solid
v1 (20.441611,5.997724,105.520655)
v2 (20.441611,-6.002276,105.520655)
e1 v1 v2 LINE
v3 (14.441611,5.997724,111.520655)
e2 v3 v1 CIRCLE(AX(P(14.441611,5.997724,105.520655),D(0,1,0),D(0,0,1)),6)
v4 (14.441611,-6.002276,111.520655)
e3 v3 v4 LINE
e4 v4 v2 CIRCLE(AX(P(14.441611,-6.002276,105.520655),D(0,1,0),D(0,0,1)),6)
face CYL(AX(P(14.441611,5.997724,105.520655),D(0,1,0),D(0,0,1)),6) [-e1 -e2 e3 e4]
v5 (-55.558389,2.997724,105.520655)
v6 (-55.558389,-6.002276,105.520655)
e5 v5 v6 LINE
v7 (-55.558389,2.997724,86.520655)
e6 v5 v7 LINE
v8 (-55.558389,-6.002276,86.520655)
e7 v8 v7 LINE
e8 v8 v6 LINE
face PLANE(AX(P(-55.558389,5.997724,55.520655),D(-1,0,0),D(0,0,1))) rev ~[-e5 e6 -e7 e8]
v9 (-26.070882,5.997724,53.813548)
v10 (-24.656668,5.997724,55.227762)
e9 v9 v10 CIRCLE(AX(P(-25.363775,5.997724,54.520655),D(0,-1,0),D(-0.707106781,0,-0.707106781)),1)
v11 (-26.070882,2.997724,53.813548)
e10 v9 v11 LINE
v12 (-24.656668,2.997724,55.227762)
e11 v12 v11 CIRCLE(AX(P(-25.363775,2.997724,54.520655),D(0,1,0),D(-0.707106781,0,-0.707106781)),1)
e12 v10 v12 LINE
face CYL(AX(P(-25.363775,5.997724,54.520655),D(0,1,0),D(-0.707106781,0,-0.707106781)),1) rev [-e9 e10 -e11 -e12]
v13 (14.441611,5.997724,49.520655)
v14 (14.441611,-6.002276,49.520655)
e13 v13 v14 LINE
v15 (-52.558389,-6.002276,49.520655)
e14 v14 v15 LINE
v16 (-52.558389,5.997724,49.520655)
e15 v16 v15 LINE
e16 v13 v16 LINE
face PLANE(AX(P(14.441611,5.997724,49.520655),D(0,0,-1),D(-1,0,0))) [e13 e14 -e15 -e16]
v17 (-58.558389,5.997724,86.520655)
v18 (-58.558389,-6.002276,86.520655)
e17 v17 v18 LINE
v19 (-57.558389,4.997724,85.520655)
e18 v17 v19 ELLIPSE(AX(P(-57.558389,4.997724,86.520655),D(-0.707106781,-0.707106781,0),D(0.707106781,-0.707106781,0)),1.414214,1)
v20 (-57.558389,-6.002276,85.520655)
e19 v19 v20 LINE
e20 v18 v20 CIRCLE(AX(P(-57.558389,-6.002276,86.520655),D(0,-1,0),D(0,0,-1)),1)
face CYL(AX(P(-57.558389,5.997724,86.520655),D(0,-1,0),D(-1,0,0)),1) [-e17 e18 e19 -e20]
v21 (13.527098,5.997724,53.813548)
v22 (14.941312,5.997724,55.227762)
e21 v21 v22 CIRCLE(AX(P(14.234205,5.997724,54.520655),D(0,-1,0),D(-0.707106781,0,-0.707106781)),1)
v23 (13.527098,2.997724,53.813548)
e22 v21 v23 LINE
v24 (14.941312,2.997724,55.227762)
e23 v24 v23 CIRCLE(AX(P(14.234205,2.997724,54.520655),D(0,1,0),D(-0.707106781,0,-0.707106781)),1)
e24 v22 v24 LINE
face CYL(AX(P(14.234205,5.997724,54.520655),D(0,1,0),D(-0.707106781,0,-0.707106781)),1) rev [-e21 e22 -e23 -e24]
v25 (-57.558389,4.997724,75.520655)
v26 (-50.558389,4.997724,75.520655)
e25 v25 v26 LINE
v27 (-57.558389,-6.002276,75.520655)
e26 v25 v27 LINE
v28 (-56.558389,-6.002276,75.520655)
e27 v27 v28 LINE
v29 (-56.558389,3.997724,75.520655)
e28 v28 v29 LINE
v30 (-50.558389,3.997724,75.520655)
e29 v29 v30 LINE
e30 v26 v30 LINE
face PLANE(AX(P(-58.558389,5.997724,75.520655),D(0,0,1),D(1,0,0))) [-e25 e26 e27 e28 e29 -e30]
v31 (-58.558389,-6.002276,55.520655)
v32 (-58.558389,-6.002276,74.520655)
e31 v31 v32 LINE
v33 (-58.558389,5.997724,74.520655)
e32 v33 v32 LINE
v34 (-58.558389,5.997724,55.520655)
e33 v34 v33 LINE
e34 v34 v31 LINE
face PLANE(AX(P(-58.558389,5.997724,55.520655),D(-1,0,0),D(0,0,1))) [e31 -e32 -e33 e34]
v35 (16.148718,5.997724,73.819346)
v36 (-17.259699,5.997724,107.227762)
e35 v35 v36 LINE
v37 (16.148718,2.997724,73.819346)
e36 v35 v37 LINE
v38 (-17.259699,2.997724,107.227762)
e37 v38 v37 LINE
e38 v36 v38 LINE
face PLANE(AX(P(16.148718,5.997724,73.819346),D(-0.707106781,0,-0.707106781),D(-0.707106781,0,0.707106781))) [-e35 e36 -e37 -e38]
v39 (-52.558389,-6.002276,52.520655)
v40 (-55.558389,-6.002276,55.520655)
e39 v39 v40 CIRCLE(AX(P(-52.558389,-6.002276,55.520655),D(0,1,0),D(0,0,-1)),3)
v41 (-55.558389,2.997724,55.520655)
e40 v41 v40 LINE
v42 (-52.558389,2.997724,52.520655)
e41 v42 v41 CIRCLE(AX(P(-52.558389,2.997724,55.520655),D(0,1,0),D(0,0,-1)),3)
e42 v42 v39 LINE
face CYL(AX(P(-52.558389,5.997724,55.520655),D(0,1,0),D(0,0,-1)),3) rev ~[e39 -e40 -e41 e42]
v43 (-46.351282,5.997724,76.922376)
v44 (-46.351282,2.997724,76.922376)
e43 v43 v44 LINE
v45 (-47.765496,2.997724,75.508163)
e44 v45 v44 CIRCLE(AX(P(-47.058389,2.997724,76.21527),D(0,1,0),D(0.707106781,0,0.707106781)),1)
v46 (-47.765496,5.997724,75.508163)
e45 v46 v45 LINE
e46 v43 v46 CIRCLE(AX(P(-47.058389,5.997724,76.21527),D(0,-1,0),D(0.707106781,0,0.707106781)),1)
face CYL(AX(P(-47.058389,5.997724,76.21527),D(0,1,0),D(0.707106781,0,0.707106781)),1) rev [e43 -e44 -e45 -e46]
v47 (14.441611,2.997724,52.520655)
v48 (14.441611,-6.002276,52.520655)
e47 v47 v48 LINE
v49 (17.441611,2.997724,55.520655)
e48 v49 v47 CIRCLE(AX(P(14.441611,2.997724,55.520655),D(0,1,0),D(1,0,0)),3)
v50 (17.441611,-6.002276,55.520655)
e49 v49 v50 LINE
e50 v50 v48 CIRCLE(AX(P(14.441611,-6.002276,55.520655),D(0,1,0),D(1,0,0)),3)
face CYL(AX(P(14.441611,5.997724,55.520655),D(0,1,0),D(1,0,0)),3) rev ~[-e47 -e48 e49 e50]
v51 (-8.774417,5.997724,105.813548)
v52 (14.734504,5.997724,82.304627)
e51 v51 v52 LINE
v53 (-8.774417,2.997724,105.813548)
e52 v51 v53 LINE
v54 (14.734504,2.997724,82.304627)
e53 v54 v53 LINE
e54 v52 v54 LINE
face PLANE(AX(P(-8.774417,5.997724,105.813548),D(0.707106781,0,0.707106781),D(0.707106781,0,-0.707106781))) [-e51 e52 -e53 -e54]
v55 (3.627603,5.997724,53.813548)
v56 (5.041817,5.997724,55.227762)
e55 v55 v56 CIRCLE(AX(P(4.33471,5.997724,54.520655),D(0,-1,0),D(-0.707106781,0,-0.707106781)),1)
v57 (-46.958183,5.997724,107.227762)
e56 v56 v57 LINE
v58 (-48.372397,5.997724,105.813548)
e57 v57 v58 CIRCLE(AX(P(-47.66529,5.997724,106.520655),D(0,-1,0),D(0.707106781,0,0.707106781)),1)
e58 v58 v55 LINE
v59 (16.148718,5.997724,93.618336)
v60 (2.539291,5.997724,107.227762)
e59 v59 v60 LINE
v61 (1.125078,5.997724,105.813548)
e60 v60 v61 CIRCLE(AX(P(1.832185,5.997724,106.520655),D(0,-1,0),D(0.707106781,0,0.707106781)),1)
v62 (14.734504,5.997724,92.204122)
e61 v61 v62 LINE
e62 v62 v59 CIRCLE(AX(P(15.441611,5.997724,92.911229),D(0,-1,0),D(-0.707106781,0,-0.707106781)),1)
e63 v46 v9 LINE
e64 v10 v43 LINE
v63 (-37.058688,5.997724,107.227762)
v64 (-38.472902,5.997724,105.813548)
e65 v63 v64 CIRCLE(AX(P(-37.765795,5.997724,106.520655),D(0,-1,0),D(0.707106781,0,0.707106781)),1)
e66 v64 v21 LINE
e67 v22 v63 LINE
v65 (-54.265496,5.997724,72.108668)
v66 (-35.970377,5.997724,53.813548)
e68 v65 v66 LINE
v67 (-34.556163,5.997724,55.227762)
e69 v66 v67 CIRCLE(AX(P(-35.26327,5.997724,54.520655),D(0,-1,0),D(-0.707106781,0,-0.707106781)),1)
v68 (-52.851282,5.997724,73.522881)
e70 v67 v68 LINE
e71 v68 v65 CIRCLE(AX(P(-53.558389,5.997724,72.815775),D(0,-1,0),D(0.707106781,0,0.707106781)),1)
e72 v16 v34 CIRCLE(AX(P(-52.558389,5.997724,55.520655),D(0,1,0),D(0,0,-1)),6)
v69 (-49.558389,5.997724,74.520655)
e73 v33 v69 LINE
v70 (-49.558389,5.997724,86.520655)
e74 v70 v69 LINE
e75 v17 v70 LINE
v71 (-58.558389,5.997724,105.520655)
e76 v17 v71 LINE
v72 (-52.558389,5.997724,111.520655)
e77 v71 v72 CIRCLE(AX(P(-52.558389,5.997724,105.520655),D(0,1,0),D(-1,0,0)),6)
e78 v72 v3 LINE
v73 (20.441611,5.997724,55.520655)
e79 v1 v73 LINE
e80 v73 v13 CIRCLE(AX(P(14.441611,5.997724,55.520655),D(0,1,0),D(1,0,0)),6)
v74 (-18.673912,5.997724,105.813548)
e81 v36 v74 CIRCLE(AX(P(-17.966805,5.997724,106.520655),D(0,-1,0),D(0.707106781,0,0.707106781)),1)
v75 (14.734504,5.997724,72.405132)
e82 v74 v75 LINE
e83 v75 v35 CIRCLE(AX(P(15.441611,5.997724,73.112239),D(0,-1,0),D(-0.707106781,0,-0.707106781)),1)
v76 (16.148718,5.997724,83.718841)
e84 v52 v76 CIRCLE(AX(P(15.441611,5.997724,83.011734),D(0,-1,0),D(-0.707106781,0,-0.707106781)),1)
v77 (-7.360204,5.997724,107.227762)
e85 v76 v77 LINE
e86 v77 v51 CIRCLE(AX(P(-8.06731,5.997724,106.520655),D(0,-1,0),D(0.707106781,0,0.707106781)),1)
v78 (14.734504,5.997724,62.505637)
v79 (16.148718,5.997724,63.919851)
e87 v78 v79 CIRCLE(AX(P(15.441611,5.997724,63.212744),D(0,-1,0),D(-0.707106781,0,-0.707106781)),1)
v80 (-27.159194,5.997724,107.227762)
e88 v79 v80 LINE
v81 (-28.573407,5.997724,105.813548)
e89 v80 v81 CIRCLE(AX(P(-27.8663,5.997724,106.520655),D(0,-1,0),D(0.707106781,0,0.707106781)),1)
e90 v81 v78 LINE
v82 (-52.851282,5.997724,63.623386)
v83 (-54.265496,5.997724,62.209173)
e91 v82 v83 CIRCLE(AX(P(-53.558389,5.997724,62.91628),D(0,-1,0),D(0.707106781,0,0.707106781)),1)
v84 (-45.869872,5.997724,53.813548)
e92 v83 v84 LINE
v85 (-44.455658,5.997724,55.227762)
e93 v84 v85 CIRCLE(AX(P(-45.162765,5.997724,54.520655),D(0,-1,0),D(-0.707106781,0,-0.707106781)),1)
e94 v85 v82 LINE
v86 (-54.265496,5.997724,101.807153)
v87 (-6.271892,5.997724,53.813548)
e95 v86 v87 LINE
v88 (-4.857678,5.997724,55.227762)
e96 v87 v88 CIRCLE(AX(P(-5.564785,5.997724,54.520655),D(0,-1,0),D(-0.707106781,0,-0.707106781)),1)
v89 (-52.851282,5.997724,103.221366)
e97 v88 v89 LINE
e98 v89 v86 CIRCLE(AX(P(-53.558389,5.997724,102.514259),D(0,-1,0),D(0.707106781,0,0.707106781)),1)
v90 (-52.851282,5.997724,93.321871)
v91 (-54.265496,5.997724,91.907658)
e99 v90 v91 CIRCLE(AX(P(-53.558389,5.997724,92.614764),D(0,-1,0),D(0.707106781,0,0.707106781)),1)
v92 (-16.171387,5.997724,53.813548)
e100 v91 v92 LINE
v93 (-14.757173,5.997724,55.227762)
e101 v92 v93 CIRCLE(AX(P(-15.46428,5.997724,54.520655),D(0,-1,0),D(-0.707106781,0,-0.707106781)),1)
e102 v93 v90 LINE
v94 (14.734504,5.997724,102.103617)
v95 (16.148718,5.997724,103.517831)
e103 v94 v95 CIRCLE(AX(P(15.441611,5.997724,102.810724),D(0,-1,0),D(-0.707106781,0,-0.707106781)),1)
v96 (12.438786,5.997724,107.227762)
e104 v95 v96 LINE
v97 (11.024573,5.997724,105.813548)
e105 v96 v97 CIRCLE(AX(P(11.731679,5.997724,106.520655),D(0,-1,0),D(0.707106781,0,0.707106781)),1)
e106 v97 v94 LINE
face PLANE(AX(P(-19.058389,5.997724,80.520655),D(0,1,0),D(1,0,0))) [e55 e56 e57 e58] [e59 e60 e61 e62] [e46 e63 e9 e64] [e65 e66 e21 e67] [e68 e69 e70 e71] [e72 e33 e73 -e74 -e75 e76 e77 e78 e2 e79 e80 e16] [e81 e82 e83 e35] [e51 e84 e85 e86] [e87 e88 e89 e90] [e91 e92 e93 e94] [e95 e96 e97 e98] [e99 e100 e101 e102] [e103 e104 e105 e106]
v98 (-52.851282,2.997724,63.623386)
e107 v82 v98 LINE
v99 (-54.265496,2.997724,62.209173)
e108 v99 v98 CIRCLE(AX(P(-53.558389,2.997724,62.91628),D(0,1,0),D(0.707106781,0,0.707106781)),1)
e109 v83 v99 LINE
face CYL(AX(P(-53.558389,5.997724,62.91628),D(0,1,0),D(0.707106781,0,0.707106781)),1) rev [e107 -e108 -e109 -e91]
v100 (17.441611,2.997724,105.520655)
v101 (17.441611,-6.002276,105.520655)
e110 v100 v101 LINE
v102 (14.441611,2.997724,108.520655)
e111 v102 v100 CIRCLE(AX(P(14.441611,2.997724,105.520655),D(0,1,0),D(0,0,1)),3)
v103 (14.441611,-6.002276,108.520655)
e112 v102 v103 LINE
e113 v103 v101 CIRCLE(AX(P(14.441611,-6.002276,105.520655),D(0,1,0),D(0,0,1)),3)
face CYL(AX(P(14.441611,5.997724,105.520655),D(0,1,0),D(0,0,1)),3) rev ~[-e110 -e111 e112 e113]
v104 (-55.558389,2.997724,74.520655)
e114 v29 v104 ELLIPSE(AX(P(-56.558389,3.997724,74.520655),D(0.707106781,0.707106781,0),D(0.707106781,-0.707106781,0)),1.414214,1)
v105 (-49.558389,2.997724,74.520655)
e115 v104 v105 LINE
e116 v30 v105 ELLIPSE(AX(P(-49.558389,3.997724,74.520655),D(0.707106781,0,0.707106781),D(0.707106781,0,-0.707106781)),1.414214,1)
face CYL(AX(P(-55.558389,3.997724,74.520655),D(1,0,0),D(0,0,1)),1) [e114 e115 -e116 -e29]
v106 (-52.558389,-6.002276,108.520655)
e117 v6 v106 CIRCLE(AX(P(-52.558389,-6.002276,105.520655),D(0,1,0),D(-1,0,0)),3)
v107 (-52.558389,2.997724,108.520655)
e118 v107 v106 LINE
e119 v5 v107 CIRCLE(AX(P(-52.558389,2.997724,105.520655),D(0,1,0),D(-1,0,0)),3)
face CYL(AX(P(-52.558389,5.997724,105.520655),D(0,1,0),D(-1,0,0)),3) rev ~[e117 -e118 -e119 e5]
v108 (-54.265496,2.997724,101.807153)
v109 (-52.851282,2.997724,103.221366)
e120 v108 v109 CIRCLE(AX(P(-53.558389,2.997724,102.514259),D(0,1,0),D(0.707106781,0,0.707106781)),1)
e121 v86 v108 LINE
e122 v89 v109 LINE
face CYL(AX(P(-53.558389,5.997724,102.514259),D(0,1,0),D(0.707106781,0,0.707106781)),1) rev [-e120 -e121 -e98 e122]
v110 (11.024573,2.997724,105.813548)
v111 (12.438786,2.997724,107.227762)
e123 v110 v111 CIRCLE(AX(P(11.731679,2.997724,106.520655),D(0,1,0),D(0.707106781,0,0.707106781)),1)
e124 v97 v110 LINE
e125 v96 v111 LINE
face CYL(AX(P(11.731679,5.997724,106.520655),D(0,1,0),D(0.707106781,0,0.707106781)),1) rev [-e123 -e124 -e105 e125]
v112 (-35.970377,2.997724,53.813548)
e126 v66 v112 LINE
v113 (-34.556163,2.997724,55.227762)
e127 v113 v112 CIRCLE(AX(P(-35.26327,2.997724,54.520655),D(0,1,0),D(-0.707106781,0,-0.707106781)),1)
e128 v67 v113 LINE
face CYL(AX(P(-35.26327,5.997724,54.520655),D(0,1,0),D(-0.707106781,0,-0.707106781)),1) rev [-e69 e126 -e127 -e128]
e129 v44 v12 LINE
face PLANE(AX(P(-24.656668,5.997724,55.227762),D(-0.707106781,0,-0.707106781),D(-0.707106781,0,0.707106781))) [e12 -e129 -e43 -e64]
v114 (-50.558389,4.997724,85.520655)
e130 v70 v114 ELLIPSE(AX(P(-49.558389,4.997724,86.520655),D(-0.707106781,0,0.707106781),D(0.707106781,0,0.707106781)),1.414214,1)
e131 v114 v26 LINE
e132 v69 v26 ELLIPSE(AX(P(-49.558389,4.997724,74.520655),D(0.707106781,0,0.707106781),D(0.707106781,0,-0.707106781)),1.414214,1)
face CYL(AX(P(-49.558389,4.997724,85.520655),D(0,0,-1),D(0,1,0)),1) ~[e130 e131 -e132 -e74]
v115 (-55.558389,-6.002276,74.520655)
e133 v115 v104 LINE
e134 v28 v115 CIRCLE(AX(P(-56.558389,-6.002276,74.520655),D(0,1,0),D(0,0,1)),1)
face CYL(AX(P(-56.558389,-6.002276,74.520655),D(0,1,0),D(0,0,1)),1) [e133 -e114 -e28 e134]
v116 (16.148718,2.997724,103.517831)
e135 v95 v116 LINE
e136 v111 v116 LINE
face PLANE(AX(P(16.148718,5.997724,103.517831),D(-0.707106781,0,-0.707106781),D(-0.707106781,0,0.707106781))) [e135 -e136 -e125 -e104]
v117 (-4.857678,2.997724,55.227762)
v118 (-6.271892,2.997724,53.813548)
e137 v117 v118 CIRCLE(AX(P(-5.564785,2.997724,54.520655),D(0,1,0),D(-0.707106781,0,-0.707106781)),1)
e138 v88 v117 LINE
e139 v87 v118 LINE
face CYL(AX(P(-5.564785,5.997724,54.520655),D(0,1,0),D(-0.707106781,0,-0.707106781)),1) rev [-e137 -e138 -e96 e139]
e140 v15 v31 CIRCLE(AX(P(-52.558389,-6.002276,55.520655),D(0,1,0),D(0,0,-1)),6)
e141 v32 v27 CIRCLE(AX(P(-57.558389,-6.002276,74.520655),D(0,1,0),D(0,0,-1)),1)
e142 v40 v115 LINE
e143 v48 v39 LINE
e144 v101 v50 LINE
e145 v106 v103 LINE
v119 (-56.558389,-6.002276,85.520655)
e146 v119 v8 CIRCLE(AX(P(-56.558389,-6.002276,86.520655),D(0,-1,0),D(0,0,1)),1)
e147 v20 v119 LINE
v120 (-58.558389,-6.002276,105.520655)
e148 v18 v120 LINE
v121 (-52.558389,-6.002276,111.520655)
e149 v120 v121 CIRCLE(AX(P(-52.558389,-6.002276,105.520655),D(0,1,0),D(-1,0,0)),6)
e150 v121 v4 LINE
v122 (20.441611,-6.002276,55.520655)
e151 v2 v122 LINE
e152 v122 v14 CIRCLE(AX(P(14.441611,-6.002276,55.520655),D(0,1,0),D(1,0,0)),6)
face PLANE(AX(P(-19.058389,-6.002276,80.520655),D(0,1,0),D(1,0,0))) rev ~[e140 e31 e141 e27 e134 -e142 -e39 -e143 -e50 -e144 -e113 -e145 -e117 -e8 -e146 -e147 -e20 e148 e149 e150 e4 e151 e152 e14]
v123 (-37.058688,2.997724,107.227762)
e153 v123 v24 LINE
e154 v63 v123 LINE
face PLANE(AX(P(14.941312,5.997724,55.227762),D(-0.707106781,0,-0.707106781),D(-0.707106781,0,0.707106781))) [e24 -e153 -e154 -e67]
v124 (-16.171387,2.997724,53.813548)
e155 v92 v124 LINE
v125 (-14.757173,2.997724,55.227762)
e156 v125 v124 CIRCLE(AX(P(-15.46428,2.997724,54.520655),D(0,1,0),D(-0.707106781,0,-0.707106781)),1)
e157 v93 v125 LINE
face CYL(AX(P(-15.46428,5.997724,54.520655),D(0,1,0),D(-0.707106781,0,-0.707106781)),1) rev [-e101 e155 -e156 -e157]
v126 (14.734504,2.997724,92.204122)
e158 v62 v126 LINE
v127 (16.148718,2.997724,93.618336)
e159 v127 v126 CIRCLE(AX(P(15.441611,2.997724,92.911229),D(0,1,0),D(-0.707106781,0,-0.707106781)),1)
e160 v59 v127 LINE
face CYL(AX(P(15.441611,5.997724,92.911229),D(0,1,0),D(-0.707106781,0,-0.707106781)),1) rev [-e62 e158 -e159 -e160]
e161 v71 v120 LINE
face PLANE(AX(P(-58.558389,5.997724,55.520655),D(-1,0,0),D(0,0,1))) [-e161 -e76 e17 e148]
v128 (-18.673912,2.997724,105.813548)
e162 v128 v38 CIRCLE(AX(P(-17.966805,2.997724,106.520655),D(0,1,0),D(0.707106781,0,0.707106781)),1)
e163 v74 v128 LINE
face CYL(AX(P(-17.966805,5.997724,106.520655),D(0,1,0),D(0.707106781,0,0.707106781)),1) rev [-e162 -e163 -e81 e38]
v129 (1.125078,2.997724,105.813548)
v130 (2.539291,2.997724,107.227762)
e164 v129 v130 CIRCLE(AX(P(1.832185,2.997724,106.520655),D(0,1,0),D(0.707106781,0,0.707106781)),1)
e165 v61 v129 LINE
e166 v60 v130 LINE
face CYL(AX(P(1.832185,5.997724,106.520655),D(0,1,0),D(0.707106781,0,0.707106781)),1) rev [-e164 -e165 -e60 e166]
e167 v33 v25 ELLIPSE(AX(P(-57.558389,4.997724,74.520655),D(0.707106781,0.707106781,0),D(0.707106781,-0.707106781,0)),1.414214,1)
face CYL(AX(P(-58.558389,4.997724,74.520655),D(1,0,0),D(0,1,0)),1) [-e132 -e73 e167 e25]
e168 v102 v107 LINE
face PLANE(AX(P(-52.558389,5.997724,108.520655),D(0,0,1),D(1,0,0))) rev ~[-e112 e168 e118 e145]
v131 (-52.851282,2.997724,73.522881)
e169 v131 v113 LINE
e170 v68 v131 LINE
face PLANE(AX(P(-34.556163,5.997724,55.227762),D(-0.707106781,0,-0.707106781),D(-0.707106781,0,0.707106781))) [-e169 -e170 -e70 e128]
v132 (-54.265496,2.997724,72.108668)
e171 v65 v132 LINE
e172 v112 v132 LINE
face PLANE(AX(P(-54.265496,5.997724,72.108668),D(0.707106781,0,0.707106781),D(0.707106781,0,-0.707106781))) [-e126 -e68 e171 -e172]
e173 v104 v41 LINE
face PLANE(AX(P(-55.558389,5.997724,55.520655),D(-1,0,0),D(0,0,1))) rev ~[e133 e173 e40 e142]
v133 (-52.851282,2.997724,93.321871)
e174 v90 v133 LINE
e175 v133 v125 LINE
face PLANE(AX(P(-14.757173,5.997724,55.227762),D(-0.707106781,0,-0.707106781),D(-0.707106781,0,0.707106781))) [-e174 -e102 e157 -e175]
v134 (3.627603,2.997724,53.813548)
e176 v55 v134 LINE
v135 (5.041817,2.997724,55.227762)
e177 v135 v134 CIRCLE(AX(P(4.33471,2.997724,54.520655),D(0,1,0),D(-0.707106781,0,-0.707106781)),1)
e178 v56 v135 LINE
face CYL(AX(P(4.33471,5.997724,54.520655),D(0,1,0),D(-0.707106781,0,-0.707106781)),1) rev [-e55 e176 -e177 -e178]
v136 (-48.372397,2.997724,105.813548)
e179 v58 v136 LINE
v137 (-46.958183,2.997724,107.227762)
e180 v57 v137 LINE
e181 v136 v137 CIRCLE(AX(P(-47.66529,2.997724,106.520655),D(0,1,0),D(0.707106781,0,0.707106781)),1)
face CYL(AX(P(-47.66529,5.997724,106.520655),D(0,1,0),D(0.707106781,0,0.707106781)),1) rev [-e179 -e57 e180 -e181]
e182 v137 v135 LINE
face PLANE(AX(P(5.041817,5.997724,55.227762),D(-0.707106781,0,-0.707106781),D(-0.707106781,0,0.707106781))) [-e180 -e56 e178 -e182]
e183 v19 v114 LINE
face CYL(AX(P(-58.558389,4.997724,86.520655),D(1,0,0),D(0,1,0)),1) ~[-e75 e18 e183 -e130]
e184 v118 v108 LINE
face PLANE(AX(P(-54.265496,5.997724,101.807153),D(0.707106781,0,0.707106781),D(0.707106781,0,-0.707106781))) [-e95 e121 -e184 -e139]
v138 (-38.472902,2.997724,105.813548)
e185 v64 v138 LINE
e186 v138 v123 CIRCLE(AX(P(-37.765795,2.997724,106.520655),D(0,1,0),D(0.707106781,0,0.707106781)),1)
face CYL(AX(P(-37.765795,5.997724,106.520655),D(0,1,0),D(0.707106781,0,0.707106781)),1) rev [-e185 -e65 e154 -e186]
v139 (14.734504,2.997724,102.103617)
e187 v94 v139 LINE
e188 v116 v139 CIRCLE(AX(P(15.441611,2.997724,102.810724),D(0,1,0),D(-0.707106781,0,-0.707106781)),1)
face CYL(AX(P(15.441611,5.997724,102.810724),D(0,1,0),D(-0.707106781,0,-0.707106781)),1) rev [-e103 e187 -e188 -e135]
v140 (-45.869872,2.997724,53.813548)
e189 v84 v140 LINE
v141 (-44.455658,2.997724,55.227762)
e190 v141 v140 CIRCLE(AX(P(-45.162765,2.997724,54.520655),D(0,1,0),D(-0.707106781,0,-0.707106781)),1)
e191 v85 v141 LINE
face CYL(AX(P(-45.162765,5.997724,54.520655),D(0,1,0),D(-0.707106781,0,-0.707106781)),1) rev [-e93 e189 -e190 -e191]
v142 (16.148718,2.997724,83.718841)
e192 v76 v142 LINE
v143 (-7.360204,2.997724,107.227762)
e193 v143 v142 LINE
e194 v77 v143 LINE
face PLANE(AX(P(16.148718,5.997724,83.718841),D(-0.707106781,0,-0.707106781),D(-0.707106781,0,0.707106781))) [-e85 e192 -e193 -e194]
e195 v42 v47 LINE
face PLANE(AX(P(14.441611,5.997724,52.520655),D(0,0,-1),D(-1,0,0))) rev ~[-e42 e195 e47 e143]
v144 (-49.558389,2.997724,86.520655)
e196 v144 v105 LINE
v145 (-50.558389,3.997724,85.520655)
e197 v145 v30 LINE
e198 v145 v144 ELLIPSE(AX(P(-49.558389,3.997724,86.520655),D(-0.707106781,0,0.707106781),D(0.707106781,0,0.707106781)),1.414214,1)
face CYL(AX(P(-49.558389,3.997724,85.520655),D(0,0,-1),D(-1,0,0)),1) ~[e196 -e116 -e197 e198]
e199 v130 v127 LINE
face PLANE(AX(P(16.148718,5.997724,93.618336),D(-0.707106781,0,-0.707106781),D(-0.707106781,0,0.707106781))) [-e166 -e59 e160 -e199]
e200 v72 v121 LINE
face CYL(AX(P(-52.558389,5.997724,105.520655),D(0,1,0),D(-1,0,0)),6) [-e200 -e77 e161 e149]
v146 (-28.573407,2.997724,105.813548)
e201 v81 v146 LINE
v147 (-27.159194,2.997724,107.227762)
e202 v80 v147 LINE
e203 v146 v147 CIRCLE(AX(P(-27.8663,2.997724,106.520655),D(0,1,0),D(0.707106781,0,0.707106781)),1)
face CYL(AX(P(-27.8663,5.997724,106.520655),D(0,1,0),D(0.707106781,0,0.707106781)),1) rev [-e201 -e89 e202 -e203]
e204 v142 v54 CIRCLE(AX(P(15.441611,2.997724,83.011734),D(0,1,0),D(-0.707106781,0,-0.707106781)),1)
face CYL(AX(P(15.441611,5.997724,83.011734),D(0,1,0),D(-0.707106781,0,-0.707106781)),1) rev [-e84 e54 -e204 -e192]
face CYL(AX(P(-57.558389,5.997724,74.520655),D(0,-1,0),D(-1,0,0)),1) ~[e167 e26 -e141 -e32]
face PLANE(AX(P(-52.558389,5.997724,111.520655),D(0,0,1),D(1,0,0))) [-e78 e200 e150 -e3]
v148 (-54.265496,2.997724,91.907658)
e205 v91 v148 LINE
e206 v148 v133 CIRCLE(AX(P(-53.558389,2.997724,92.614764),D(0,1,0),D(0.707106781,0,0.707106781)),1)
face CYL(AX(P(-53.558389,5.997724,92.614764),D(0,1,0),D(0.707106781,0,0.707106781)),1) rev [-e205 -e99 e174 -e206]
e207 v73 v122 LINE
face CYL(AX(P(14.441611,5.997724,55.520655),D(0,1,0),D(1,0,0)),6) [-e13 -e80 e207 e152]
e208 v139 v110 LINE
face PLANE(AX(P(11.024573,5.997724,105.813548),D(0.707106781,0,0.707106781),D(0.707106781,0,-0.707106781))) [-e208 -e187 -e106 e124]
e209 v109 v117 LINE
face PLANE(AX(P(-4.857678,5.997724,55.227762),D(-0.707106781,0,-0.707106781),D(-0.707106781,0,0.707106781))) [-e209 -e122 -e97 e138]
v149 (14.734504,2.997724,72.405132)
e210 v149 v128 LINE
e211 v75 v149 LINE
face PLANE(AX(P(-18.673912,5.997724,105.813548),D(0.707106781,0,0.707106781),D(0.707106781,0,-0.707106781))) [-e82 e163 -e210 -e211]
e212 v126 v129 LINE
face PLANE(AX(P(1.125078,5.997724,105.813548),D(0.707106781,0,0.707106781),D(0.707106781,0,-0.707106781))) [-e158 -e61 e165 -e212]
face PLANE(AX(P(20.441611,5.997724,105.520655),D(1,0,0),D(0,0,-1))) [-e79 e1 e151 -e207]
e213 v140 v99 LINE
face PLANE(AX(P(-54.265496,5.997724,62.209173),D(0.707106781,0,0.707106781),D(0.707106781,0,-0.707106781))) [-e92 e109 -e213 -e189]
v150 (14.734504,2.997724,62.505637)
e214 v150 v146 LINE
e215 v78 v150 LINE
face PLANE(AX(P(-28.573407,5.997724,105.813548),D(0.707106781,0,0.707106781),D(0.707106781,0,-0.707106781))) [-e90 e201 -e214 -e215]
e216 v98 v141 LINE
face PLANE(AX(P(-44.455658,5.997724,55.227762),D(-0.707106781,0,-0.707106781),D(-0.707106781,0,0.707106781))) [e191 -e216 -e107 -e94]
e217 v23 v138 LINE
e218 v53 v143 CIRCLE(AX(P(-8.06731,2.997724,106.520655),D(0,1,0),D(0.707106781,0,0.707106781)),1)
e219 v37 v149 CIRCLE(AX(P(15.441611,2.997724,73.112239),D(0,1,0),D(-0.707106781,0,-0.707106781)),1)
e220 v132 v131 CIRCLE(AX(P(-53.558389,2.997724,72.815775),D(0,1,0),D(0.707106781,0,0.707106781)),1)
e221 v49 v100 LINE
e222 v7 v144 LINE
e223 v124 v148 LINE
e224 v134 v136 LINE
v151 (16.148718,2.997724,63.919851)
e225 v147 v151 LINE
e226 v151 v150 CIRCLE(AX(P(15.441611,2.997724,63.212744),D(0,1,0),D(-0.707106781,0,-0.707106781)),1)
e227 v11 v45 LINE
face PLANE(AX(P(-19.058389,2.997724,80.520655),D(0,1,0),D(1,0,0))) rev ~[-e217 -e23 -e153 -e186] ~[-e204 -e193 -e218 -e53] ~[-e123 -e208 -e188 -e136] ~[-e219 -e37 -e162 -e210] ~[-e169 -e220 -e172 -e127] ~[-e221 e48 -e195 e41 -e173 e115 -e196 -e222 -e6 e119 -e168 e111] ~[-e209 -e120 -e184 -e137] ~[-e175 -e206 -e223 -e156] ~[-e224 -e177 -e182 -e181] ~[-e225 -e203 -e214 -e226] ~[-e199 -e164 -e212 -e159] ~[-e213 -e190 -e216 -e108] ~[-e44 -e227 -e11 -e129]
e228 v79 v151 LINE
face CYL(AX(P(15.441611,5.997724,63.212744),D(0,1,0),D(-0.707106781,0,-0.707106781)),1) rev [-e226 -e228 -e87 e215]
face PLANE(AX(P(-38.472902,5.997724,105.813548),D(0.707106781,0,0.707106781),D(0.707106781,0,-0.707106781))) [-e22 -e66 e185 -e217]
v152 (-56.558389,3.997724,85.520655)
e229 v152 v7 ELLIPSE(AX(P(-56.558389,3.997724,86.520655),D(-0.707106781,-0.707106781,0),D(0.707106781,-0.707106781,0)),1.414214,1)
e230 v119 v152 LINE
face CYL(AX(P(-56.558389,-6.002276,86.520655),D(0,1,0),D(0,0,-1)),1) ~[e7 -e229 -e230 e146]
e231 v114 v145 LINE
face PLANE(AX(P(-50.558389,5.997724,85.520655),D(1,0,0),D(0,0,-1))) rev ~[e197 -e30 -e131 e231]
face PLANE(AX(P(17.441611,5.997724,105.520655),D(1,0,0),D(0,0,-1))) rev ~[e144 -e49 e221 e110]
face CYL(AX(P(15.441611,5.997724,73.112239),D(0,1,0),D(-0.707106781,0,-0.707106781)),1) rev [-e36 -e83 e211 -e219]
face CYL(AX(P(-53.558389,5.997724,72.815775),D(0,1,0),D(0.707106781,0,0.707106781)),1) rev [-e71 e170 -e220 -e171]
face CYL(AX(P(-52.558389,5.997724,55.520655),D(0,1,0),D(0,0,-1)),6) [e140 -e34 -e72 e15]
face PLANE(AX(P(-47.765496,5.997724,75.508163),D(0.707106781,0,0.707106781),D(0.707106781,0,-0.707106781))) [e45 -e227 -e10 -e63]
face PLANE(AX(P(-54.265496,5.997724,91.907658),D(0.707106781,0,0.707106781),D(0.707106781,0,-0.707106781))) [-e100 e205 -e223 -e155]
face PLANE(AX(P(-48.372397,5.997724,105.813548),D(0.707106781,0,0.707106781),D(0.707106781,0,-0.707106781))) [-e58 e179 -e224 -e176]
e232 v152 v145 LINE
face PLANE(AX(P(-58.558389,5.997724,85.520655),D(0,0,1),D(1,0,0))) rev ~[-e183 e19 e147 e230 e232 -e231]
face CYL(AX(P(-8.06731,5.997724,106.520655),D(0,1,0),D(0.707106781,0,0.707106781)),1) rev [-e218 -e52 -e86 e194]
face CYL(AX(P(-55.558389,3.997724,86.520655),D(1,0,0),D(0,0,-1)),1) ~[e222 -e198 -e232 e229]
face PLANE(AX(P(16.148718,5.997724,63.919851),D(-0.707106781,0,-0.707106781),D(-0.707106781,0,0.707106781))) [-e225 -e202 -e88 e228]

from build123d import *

# Parameters (mm, degrees)
RESSALTO_EXTRUS_O1_DEPTH = 12
CASCA1_T                 = -3
ESBO_O3_W                = 8
ESBO_O3_H                = 10
CORTE_EXTRUS_O2_DEPTH    = 13
FILETE1_R                = 1
CORTE_EXTRUS_O5_REACH    = 14


with BuildPart() as part:
    # Esboço2 → Ressalto-extrusão1 (new body)
    with BuildSketch(Plane(origin=(0, 5.997724004, 0), x_dir=(1, 0, 0), z_dir=(0, 1, 0))):
        with BuildLine():
            Line((-58.558389249, -55.520655269), (-58.558389249, -105.520655269))
            ThreePointArc((-58.558389249, -105.520655269), (-56.801029936, -109.763295956), (-52.558389249, -111.520655269))
            Line((-52.558389249, -111.520655269), (14.441610751, -111.520655269))
            ThreePointArc((14.441610751, -111.520655269), (18.684251438, -109.763295956), (20.441610751, -105.520655269))
            Line((20.441610751, -105.520655269), (20.441610751, -55.520655269))
            ThreePointArc((20.441610751, -55.520655269), (18.684251438, -51.278014582), (14.441610751, -49.520655269))
            Line((14.441610751, -49.520655269), (-52.558389249, -49.520655269))
            ThreePointArc((-52.558389249, -49.520655269), (-56.801029936, -51.278014582), (-58.558389249, -55.520655269))
        make_face()
    extrude(amount=-RESSALTO_EXTRUS_O1_DEPTH)

    # Casca1
    casca1_openings = [part.faces().sort_by_distance(p)[0] for p in [
        (-19.058389249, -6.002275996, 80.520655269),
    ]]
    offset(amount=CASCA1_T, openings=casca1_openings, kind=Kind.INTERSECTION)

    # Esboço3 → Corte-extrusão2 (cut, through all)
    with BuildSketch(Plane(origin=(0, 5.997724004, 0), x_dir=(1, 0, 0), z_dir=(0, 1, 0))):
        with Locations((-54.558389249, -80.520655269)):
            Rectangle(ESBO_O3_W, ESBO_O3_H)
    extrude(amount=-CORTE_EXTRUS_O2_DEPTH, mode=Mode.SUBTRACT)

    # Filete1
    filete1_edges = [part.edges().sort_by_distance(p)[0] for p in [
        (-53.058389249, 2.997724004, 85.520655269),
        (-50.558389249, 2.997724004, 80.520655269),
        (-53.058389249, 2.997724004, 75.520655269),
        (-55.558389249, -1.502275996, 75.520655269),
        (-58.558389249, -0.002275996, 75.520655269),
        (-55.558389249, -1.502275996, 85.520655269),
        (-58.558389249, -0.002275996, 85.520655269),
        (-54.558389249, 5.997724004, 85.520655269),
        (-50.558389249, 5.997724004, 80.520655269),
        (-54.558389249, 5.997724004, 75.520655269),
    ]]
    fillet(filete1_edges, radius=FILETE1_R)

    # Esboço8 → Corte-extrusão5 (cut, up to next)
    with BuildSketch(Plane(origin=(0, 5.997724004, 0), x_dir=(1, 0, 0), z_dir=(0, 1, 0)), mode=Mode.PRIVATE) as corte_extrus_o5_sk1:
        with BuildLine():
            Line((-54.26549603, -62.209172871), (-45.869871648, -53.813548488))
            ThreePointArc((-45.869871648, -53.813548488), (-44.455658085, -53.813548488), (-44.455658085, -55.22776205))
            Line((-44.455658085, -55.22776205), (-52.851282468, -63.623386433))
            ThreePointArc((-52.851282468, -63.623386433), (-54.26549603, -63.623386433), (-54.26549603, -62.209172871))
        make_face()
    corte_extrus_o5_tool1 = extrude(corte_extrus_o5_sk1.sketch, amount=-CORTE_EXTRUS_O5_REACH, mode=Mode.PRIVATE) & part.part
    add(corte_extrus_o5_tool1.solids().sort_by_distance((-49.360577, 5.997724, 58.718467))[0], mode=Mode.SUBTRACT)
    # Esboço8 → Corte-extrusão5 (cut, up to next)
    with BuildSketch(Plane(origin=(0, 5.997724004, 0), x_dir=(1, 0, 0), z_dir=(0, 1, 0)), mode=Mode.PRIVATE) as corte_extrus_o5_sk2:
        with BuildLine():
            Line((-54.26549603, -72.108667807), (-35.970376711, -53.813548488))
            ThreePointArc((-35.970376711, -53.813548488), (-34.556163149, -53.813548488), (-34.556163149, -55.22776205))
            Line((-34.556163149, -55.22776205), (-52.851282468, -73.52288137))
            ThreePointArc((-52.851282468, -73.52288137), (-54.26549603, -73.52288137), (-54.26549603, -72.108667807))
        make_face()
    corte_extrus_o5_tool2 = extrude(corte_extrus_o5_sk2.sketch, amount=-CORTE_EXTRUS_O5_REACH, mode=Mode.PRIVATE) & part.part
    add(corte_extrus_o5_tool2.solids().sort_by_distance((-44.41083, 5.997724, 63.668215))[0], mode=Mode.SUBTRACT)
    # Esboço8 → Corte-extrusão5 (cut, up to next)
    with BuildSketch(Plane(origin=(0, 5.997724004, 0), x_dir=(1, 0, 0), z_dir=(0, 1, 0)), mode=Mode.PRIVATE) as corte_extrus_o5_sk3:
        with BuildLine():
            Line((-47.76549603, -75.508162744), (-26.070881774, -53.813548488))
            ThreePointArc((-26.070881774, -53.813548488), (-24.656668212, -53.813548488), (-24.656668212, -55.22776205))
            Line((-24.656668212, -55.22776205), (-46.351282468, -76.922376306))
            ThreePointArc((-46.351282468, -76.922376306), (-47.76549603, -76.922376306), (-47.76549603, -75.508162744))
        make_face()
    corte_extrus_o5_tool3 = extrude(corte_extrus_o5_sk3.sketch, amount=-CORTE_EXTRUS_O5_REACH, mode=Mode.PRIVATE) & part.part
    add(corte_extrus_o5_tool3.solids().sort_by_distance((-36.211082, 5.997724, 65.367962))[0], mode=Mode.SUBTRACT)
    # Esboço8 → Corte-extrusão5 (cut, up to next)
    with BuildSketch(Plane(origin=(0, 5.997724004, 0), x_dir=(1, 0, 0), z_dir=(0, 1, 0)), mode=Mode.PRIVATE) as corte_extrus_o5_sk4:
        with BuildLine():
            Line((-54.26549603, -91.90765768), (-16.171386838, -53.813548488))
            ThreePointArc((-16.171386838, -53.813548488), (-14.757173275, -53.813548488), (-14.757173275, -55.22776205))
            Line((-14.757173275, -55.22776205), (-52.851282468, -93.321871243))
            ThreePointArc((-52.851282468, -93.321871243), (-54.26549603, -93.321871243), (-54.26549603, -91.90765768))
        make_face()
    corte_extrus_o5_tool4 = extrude(corte_extrus_o5_sk4.sketch, amount=-CORTE_EXTRUS_O5_REACH, mode=Mode.PRIVATE) & part.part
    add(corte_extrus_o5_tool4.solids().sort_by_distance((-34.511335, 5.997724, 73.56771))[0], mode=Mode.SUBTRACT)
    # Esboço8 → Corte-extrusão5 (cut, up to next)
    with BuildSketch(Plane(origin=(0, 5.997724004, 0), x_dir=(1, 0, 0), z_dir=(0, 1, 0)), mode=Mode.PRIVATE) as corte_extrus_o5_sk5:
        with BuildLine():
            Line((-4.857678339, -55.22776205), (-52.851282468, -103.221366179))
            ThreePointArc((-52.851282468, -103.221366179), (-54.26549603, -103.221366179), (-54.26549603, -101.807152617))
            Line((-54.26549603, -101.807152617), (-6.271891901, -53.813548488))
            ThreePointArc((-6.271891901, -53.813548488), (-4.857678339, -53.813548488), (-4.857678339, -55.22776205))
        make_face()
    corte_extrus_o5_tool5 = extrude(corte_extrus_o5_sk5.sketch, amount=-CORTE_EXTRUS_O5_REACH, mode=Mode.PRIVATE) & part.part
    add(corte_extrus_o5_tool5.solids().sort_by_distance((-29.561587, 5.997724, 78.517457))[0], mode=Mode.SUBTRACT)
    # Esboço8 → Corte-extrusão5 (cut, up to next)
    with BuildSketch(Plane(origin=(0, 5.997724004, 0), x_dir=(1, 0, 0), z_dir=(0, 1, 0)), mode=Mode.PRIVATE) as corte_extrus_o5_sk6:
        with BuildLine():
            Line((-48.372396965, -105.813548488), (3.627603035, -53.813548488))
            ThreePointArc((3.627603035, -53.813548488), (5.041816598, -53.813548488), (5.041816598, -55.22776205))
            Line((5.041816598, -55.22776205), (-46.958183402, -107.22776205))
            ThreePointArc((-46.958183402, -107.22776205), (-48.372396965, -107.22776205), (-48.372396965, -105.813548488))
        make_face()
    corte_extrus_o5_tool6 = extrude(corte_extrus_o5_sk6.sketch, amount=-CORTE_EXTRUS_O5_REACH, mode=Mode.PRIVATE) & part.part
    add(corte_extrus_o5_tool6.solids().sort_by_distance((-21.66529, 5.997724, 80.520655))[0], mode=Mode.SUBTRACT)
    # Esboço8 → Corte-extrusão5 (cut, up to next)
    with BuildSketch(Plane(origin=(0, 5.997724004, 0), x_dir=(1, 0, 0), z_dir=(0, 1, 0)), mode=Mode.PRIVATE) as corte_extrus_o5_sk7:
        with BuildLine():
            Line((14.941311534, -55.22776205), (-37.058688466, -107.22776205))
            ThreePointArc((-37.058688466, -107.22776205), (-38.472902028, -107.22776205), (-38.472902028, -105.813548488))
            Line((-38.472902028, -105.813548488), (13.527097972, -53.813548488))
            ThreePointArc((13.527097972, -53.813548488), (14.941311534, -53.813548488), (14.941311534, -55.22776205))
        make_face()
    corte_extrus_o5_tool7 = extrude(corte_extrus_o5_sk7.sketch, amount=-CORTE_EXTRUS_O5_REACH, mode=Mode.PRIVATE) & part.part
    add(corte_extrus_o5_tool7.solids().sort_by_distance((-11.765795, 5.997724, 80.520655))[0], mode=Mode.SUBTRACT)
    # Esboço8 → Corte-extrusão5 (cut, up to next)
    with BuildSketch(Plane(origin=(0, 5.997724004, 0), x_dir=(1, 0, 0), z_dir=(0, 1, 0)), mode=Mode.PRIVATE) as corte_extrus_o5_sk8:
        with BuildLine():
            Line((-28.573407091, -105.813548488), (14.73450397, -62.505637427))
            ThreePointArc((14.73450397, -62.505637427), (16.148717532, -62.505637427), (16.148717532, -63.919850989))
            Line((16.148717532, -63.919850989), (-27.159193529, -107.22776205))
            ThreePointArc((-27.159193529, -107.22776205), (-28.573407091, -107.22776205), (-28.573407091, -105.813548488))
        make_face()
    corte_extrus_o5_tool8 = extrude(corte_extrus_o5_sk8.sketch, amount=-CORTE_EXTRUS_O5_REACH, mode=Mode.PRIVATE) & part.part
    add(corte_extrus_o5_tool8.solids().sort_by_distance((-6.212345, 5.997724, 84.8667))[0], mode=Mode.SUBTRACT)
    # Esboço8 → Corte-extrusão5 (cut, up to next)
    with BuildSketch(Plane(origin=(0, 5.997724004, 0), x_dir=(1, 0, 0), z_dir=(0, 1, 0)), mode=Mode.PRIVATE) as corte_extrus_o5_sk9:
        with BuildLine():
            Line((16.148717532, -73.819345926), (-17.259698592, -107.22776205))
            ThreePointArc((-17.259698592, -107.22776205), (-18.673912155, -107.22776205), (-18.673912155, -105.813548488))
            Line((-18.673912155, -105.813548488), (14.73450397, -72.405132363))
            ThreePointArc((14.73450397, -72.405132363), (16.148717532, -72.405132363), (16.148717532, -73.819345926))
        make_face()
    corte_extrus_o5_tool9 = extrude(corte_extrus_o5_sk9.sketch, amount=-CORTE_EXTRUS_O5_REACH, mode=Mode.PRIVATE) & part.part
    add(corte_extrus_o5_tool9.solids().sort_by_distance((-1.262597, 5.997724, 89.816447))[0], mode=Mode.SUBTRACT)
    # Esboço8 → Corte-extrusão5 (cut, up to next)
    with BuildSketch(Plane(origin=(0, 5.997724004, 0), x_dir=(1, 0, 0), z_dir=(0, 1, 0)), mode=Mode.PRIVATE) as corte_extrus_o5_sk10:
        with BuildLine():
            Line((-8.774417218, -105.813548488), (14.73450397, -82.3046273))
            ThreePointArc((14.73450397, -82.3046273), (16.148717532, -82.3046273), (16.148717532, -83.718840862))
            Line((16.148717532, -83.718840862), (-7.360203656, -107.22776205))
            ThreePointArc((-7.360203656, -107.22776205), (-8.774417218, -107.22776205), (-8.774417218, -105.813548488))
        make_face()
    corte_extrus_o5_tool10 = extrude(corte_extrus_o5_sk10.sketch, amount=-CORTE_EXTRUS_O5_REACH, mode=Mode.PRIVATE) & part.part
    add(corte_extrus_o5_tool10.solids().sort_by_distance((3.68715, 5.997724, 94.766195))[0], mode=Mode.SUBTRACT)
    # Esboço8 → Corte-extrusão5 (cut, up to next)
    with BuildSketch(Plane(origin=(0, 5.997724004, 0), x_dir=(1, 0, 0), z_dir=(0, 1, 0)), mode=Mode.PRIVATE) as corte_extrus_o5_sk11:
        with BuildLine():
            Line((16.148717532, -93.618335799), (2.539291281, -107.22776205))
            ThreePointArc((2.539291281, -107.22776205), (1.125077719, -107.22776205), (1.125077719, -105.813548488))
            Line((1.125077719, -105.813548488), (14.73450397, -92.204122237))
            ThreePointArc((14.73450397, -92.204122237), (16.148717532, -92.204122237), (16.148717532, -93.618335799))
        make_face()
    corte_extrus_o5_tool11 = extrude(corte_extrus_o5_sk11.sketch, amount=-CORTE_EXTRUS_O5_REACH, mode=Mode.PRIVATE) & part.part
    add(corte_extrus_o5_tool11.solids().sort_by_distance((8.636898, 5.997724, 99.715942))[0], mode=Mode.SUBTRACT)
    # Esboço8 → Corte-extrusão5 (cut, up to next)
    with BuildSketch(Plane(origin=(0, 5.997724004, 0), x_dir=(1, 0, 0), z_dir=(0, 1, 0)), mode=Mode.PRIVATE) as corte_extrus_o5_sk12:
        with BuildLine():
            Line((11.024572655, -105.813548488), (14.73450397, -102.103617173))
            ThreePointArc((14.73450397, -102.103617173), (16.148717532, -102.103617173), (16.148717532, -103.517830736))
            Line((16.148717532, -103.517830736), (12.438786218, -107.22776205))
            ThreePointArc((12.438786218, -107.22776205), (11.024572655, -107.22776205), (11.024572655, -105.813548488))
        make_face()
    corte_extrus_o5_tool12 = extrude(corte_extrus_o5_sk12.sketch, amount=-CORTE_EXTRUS_O5_REACH, mode=Mode.PRIVATE) & part.part
    add(corte_extrus_o5_tool12.solids().sort_by_distance((13.586645, 5.997724, 104.66569))[0], mode=Mode.SUBTRACT)


solid = part.part
